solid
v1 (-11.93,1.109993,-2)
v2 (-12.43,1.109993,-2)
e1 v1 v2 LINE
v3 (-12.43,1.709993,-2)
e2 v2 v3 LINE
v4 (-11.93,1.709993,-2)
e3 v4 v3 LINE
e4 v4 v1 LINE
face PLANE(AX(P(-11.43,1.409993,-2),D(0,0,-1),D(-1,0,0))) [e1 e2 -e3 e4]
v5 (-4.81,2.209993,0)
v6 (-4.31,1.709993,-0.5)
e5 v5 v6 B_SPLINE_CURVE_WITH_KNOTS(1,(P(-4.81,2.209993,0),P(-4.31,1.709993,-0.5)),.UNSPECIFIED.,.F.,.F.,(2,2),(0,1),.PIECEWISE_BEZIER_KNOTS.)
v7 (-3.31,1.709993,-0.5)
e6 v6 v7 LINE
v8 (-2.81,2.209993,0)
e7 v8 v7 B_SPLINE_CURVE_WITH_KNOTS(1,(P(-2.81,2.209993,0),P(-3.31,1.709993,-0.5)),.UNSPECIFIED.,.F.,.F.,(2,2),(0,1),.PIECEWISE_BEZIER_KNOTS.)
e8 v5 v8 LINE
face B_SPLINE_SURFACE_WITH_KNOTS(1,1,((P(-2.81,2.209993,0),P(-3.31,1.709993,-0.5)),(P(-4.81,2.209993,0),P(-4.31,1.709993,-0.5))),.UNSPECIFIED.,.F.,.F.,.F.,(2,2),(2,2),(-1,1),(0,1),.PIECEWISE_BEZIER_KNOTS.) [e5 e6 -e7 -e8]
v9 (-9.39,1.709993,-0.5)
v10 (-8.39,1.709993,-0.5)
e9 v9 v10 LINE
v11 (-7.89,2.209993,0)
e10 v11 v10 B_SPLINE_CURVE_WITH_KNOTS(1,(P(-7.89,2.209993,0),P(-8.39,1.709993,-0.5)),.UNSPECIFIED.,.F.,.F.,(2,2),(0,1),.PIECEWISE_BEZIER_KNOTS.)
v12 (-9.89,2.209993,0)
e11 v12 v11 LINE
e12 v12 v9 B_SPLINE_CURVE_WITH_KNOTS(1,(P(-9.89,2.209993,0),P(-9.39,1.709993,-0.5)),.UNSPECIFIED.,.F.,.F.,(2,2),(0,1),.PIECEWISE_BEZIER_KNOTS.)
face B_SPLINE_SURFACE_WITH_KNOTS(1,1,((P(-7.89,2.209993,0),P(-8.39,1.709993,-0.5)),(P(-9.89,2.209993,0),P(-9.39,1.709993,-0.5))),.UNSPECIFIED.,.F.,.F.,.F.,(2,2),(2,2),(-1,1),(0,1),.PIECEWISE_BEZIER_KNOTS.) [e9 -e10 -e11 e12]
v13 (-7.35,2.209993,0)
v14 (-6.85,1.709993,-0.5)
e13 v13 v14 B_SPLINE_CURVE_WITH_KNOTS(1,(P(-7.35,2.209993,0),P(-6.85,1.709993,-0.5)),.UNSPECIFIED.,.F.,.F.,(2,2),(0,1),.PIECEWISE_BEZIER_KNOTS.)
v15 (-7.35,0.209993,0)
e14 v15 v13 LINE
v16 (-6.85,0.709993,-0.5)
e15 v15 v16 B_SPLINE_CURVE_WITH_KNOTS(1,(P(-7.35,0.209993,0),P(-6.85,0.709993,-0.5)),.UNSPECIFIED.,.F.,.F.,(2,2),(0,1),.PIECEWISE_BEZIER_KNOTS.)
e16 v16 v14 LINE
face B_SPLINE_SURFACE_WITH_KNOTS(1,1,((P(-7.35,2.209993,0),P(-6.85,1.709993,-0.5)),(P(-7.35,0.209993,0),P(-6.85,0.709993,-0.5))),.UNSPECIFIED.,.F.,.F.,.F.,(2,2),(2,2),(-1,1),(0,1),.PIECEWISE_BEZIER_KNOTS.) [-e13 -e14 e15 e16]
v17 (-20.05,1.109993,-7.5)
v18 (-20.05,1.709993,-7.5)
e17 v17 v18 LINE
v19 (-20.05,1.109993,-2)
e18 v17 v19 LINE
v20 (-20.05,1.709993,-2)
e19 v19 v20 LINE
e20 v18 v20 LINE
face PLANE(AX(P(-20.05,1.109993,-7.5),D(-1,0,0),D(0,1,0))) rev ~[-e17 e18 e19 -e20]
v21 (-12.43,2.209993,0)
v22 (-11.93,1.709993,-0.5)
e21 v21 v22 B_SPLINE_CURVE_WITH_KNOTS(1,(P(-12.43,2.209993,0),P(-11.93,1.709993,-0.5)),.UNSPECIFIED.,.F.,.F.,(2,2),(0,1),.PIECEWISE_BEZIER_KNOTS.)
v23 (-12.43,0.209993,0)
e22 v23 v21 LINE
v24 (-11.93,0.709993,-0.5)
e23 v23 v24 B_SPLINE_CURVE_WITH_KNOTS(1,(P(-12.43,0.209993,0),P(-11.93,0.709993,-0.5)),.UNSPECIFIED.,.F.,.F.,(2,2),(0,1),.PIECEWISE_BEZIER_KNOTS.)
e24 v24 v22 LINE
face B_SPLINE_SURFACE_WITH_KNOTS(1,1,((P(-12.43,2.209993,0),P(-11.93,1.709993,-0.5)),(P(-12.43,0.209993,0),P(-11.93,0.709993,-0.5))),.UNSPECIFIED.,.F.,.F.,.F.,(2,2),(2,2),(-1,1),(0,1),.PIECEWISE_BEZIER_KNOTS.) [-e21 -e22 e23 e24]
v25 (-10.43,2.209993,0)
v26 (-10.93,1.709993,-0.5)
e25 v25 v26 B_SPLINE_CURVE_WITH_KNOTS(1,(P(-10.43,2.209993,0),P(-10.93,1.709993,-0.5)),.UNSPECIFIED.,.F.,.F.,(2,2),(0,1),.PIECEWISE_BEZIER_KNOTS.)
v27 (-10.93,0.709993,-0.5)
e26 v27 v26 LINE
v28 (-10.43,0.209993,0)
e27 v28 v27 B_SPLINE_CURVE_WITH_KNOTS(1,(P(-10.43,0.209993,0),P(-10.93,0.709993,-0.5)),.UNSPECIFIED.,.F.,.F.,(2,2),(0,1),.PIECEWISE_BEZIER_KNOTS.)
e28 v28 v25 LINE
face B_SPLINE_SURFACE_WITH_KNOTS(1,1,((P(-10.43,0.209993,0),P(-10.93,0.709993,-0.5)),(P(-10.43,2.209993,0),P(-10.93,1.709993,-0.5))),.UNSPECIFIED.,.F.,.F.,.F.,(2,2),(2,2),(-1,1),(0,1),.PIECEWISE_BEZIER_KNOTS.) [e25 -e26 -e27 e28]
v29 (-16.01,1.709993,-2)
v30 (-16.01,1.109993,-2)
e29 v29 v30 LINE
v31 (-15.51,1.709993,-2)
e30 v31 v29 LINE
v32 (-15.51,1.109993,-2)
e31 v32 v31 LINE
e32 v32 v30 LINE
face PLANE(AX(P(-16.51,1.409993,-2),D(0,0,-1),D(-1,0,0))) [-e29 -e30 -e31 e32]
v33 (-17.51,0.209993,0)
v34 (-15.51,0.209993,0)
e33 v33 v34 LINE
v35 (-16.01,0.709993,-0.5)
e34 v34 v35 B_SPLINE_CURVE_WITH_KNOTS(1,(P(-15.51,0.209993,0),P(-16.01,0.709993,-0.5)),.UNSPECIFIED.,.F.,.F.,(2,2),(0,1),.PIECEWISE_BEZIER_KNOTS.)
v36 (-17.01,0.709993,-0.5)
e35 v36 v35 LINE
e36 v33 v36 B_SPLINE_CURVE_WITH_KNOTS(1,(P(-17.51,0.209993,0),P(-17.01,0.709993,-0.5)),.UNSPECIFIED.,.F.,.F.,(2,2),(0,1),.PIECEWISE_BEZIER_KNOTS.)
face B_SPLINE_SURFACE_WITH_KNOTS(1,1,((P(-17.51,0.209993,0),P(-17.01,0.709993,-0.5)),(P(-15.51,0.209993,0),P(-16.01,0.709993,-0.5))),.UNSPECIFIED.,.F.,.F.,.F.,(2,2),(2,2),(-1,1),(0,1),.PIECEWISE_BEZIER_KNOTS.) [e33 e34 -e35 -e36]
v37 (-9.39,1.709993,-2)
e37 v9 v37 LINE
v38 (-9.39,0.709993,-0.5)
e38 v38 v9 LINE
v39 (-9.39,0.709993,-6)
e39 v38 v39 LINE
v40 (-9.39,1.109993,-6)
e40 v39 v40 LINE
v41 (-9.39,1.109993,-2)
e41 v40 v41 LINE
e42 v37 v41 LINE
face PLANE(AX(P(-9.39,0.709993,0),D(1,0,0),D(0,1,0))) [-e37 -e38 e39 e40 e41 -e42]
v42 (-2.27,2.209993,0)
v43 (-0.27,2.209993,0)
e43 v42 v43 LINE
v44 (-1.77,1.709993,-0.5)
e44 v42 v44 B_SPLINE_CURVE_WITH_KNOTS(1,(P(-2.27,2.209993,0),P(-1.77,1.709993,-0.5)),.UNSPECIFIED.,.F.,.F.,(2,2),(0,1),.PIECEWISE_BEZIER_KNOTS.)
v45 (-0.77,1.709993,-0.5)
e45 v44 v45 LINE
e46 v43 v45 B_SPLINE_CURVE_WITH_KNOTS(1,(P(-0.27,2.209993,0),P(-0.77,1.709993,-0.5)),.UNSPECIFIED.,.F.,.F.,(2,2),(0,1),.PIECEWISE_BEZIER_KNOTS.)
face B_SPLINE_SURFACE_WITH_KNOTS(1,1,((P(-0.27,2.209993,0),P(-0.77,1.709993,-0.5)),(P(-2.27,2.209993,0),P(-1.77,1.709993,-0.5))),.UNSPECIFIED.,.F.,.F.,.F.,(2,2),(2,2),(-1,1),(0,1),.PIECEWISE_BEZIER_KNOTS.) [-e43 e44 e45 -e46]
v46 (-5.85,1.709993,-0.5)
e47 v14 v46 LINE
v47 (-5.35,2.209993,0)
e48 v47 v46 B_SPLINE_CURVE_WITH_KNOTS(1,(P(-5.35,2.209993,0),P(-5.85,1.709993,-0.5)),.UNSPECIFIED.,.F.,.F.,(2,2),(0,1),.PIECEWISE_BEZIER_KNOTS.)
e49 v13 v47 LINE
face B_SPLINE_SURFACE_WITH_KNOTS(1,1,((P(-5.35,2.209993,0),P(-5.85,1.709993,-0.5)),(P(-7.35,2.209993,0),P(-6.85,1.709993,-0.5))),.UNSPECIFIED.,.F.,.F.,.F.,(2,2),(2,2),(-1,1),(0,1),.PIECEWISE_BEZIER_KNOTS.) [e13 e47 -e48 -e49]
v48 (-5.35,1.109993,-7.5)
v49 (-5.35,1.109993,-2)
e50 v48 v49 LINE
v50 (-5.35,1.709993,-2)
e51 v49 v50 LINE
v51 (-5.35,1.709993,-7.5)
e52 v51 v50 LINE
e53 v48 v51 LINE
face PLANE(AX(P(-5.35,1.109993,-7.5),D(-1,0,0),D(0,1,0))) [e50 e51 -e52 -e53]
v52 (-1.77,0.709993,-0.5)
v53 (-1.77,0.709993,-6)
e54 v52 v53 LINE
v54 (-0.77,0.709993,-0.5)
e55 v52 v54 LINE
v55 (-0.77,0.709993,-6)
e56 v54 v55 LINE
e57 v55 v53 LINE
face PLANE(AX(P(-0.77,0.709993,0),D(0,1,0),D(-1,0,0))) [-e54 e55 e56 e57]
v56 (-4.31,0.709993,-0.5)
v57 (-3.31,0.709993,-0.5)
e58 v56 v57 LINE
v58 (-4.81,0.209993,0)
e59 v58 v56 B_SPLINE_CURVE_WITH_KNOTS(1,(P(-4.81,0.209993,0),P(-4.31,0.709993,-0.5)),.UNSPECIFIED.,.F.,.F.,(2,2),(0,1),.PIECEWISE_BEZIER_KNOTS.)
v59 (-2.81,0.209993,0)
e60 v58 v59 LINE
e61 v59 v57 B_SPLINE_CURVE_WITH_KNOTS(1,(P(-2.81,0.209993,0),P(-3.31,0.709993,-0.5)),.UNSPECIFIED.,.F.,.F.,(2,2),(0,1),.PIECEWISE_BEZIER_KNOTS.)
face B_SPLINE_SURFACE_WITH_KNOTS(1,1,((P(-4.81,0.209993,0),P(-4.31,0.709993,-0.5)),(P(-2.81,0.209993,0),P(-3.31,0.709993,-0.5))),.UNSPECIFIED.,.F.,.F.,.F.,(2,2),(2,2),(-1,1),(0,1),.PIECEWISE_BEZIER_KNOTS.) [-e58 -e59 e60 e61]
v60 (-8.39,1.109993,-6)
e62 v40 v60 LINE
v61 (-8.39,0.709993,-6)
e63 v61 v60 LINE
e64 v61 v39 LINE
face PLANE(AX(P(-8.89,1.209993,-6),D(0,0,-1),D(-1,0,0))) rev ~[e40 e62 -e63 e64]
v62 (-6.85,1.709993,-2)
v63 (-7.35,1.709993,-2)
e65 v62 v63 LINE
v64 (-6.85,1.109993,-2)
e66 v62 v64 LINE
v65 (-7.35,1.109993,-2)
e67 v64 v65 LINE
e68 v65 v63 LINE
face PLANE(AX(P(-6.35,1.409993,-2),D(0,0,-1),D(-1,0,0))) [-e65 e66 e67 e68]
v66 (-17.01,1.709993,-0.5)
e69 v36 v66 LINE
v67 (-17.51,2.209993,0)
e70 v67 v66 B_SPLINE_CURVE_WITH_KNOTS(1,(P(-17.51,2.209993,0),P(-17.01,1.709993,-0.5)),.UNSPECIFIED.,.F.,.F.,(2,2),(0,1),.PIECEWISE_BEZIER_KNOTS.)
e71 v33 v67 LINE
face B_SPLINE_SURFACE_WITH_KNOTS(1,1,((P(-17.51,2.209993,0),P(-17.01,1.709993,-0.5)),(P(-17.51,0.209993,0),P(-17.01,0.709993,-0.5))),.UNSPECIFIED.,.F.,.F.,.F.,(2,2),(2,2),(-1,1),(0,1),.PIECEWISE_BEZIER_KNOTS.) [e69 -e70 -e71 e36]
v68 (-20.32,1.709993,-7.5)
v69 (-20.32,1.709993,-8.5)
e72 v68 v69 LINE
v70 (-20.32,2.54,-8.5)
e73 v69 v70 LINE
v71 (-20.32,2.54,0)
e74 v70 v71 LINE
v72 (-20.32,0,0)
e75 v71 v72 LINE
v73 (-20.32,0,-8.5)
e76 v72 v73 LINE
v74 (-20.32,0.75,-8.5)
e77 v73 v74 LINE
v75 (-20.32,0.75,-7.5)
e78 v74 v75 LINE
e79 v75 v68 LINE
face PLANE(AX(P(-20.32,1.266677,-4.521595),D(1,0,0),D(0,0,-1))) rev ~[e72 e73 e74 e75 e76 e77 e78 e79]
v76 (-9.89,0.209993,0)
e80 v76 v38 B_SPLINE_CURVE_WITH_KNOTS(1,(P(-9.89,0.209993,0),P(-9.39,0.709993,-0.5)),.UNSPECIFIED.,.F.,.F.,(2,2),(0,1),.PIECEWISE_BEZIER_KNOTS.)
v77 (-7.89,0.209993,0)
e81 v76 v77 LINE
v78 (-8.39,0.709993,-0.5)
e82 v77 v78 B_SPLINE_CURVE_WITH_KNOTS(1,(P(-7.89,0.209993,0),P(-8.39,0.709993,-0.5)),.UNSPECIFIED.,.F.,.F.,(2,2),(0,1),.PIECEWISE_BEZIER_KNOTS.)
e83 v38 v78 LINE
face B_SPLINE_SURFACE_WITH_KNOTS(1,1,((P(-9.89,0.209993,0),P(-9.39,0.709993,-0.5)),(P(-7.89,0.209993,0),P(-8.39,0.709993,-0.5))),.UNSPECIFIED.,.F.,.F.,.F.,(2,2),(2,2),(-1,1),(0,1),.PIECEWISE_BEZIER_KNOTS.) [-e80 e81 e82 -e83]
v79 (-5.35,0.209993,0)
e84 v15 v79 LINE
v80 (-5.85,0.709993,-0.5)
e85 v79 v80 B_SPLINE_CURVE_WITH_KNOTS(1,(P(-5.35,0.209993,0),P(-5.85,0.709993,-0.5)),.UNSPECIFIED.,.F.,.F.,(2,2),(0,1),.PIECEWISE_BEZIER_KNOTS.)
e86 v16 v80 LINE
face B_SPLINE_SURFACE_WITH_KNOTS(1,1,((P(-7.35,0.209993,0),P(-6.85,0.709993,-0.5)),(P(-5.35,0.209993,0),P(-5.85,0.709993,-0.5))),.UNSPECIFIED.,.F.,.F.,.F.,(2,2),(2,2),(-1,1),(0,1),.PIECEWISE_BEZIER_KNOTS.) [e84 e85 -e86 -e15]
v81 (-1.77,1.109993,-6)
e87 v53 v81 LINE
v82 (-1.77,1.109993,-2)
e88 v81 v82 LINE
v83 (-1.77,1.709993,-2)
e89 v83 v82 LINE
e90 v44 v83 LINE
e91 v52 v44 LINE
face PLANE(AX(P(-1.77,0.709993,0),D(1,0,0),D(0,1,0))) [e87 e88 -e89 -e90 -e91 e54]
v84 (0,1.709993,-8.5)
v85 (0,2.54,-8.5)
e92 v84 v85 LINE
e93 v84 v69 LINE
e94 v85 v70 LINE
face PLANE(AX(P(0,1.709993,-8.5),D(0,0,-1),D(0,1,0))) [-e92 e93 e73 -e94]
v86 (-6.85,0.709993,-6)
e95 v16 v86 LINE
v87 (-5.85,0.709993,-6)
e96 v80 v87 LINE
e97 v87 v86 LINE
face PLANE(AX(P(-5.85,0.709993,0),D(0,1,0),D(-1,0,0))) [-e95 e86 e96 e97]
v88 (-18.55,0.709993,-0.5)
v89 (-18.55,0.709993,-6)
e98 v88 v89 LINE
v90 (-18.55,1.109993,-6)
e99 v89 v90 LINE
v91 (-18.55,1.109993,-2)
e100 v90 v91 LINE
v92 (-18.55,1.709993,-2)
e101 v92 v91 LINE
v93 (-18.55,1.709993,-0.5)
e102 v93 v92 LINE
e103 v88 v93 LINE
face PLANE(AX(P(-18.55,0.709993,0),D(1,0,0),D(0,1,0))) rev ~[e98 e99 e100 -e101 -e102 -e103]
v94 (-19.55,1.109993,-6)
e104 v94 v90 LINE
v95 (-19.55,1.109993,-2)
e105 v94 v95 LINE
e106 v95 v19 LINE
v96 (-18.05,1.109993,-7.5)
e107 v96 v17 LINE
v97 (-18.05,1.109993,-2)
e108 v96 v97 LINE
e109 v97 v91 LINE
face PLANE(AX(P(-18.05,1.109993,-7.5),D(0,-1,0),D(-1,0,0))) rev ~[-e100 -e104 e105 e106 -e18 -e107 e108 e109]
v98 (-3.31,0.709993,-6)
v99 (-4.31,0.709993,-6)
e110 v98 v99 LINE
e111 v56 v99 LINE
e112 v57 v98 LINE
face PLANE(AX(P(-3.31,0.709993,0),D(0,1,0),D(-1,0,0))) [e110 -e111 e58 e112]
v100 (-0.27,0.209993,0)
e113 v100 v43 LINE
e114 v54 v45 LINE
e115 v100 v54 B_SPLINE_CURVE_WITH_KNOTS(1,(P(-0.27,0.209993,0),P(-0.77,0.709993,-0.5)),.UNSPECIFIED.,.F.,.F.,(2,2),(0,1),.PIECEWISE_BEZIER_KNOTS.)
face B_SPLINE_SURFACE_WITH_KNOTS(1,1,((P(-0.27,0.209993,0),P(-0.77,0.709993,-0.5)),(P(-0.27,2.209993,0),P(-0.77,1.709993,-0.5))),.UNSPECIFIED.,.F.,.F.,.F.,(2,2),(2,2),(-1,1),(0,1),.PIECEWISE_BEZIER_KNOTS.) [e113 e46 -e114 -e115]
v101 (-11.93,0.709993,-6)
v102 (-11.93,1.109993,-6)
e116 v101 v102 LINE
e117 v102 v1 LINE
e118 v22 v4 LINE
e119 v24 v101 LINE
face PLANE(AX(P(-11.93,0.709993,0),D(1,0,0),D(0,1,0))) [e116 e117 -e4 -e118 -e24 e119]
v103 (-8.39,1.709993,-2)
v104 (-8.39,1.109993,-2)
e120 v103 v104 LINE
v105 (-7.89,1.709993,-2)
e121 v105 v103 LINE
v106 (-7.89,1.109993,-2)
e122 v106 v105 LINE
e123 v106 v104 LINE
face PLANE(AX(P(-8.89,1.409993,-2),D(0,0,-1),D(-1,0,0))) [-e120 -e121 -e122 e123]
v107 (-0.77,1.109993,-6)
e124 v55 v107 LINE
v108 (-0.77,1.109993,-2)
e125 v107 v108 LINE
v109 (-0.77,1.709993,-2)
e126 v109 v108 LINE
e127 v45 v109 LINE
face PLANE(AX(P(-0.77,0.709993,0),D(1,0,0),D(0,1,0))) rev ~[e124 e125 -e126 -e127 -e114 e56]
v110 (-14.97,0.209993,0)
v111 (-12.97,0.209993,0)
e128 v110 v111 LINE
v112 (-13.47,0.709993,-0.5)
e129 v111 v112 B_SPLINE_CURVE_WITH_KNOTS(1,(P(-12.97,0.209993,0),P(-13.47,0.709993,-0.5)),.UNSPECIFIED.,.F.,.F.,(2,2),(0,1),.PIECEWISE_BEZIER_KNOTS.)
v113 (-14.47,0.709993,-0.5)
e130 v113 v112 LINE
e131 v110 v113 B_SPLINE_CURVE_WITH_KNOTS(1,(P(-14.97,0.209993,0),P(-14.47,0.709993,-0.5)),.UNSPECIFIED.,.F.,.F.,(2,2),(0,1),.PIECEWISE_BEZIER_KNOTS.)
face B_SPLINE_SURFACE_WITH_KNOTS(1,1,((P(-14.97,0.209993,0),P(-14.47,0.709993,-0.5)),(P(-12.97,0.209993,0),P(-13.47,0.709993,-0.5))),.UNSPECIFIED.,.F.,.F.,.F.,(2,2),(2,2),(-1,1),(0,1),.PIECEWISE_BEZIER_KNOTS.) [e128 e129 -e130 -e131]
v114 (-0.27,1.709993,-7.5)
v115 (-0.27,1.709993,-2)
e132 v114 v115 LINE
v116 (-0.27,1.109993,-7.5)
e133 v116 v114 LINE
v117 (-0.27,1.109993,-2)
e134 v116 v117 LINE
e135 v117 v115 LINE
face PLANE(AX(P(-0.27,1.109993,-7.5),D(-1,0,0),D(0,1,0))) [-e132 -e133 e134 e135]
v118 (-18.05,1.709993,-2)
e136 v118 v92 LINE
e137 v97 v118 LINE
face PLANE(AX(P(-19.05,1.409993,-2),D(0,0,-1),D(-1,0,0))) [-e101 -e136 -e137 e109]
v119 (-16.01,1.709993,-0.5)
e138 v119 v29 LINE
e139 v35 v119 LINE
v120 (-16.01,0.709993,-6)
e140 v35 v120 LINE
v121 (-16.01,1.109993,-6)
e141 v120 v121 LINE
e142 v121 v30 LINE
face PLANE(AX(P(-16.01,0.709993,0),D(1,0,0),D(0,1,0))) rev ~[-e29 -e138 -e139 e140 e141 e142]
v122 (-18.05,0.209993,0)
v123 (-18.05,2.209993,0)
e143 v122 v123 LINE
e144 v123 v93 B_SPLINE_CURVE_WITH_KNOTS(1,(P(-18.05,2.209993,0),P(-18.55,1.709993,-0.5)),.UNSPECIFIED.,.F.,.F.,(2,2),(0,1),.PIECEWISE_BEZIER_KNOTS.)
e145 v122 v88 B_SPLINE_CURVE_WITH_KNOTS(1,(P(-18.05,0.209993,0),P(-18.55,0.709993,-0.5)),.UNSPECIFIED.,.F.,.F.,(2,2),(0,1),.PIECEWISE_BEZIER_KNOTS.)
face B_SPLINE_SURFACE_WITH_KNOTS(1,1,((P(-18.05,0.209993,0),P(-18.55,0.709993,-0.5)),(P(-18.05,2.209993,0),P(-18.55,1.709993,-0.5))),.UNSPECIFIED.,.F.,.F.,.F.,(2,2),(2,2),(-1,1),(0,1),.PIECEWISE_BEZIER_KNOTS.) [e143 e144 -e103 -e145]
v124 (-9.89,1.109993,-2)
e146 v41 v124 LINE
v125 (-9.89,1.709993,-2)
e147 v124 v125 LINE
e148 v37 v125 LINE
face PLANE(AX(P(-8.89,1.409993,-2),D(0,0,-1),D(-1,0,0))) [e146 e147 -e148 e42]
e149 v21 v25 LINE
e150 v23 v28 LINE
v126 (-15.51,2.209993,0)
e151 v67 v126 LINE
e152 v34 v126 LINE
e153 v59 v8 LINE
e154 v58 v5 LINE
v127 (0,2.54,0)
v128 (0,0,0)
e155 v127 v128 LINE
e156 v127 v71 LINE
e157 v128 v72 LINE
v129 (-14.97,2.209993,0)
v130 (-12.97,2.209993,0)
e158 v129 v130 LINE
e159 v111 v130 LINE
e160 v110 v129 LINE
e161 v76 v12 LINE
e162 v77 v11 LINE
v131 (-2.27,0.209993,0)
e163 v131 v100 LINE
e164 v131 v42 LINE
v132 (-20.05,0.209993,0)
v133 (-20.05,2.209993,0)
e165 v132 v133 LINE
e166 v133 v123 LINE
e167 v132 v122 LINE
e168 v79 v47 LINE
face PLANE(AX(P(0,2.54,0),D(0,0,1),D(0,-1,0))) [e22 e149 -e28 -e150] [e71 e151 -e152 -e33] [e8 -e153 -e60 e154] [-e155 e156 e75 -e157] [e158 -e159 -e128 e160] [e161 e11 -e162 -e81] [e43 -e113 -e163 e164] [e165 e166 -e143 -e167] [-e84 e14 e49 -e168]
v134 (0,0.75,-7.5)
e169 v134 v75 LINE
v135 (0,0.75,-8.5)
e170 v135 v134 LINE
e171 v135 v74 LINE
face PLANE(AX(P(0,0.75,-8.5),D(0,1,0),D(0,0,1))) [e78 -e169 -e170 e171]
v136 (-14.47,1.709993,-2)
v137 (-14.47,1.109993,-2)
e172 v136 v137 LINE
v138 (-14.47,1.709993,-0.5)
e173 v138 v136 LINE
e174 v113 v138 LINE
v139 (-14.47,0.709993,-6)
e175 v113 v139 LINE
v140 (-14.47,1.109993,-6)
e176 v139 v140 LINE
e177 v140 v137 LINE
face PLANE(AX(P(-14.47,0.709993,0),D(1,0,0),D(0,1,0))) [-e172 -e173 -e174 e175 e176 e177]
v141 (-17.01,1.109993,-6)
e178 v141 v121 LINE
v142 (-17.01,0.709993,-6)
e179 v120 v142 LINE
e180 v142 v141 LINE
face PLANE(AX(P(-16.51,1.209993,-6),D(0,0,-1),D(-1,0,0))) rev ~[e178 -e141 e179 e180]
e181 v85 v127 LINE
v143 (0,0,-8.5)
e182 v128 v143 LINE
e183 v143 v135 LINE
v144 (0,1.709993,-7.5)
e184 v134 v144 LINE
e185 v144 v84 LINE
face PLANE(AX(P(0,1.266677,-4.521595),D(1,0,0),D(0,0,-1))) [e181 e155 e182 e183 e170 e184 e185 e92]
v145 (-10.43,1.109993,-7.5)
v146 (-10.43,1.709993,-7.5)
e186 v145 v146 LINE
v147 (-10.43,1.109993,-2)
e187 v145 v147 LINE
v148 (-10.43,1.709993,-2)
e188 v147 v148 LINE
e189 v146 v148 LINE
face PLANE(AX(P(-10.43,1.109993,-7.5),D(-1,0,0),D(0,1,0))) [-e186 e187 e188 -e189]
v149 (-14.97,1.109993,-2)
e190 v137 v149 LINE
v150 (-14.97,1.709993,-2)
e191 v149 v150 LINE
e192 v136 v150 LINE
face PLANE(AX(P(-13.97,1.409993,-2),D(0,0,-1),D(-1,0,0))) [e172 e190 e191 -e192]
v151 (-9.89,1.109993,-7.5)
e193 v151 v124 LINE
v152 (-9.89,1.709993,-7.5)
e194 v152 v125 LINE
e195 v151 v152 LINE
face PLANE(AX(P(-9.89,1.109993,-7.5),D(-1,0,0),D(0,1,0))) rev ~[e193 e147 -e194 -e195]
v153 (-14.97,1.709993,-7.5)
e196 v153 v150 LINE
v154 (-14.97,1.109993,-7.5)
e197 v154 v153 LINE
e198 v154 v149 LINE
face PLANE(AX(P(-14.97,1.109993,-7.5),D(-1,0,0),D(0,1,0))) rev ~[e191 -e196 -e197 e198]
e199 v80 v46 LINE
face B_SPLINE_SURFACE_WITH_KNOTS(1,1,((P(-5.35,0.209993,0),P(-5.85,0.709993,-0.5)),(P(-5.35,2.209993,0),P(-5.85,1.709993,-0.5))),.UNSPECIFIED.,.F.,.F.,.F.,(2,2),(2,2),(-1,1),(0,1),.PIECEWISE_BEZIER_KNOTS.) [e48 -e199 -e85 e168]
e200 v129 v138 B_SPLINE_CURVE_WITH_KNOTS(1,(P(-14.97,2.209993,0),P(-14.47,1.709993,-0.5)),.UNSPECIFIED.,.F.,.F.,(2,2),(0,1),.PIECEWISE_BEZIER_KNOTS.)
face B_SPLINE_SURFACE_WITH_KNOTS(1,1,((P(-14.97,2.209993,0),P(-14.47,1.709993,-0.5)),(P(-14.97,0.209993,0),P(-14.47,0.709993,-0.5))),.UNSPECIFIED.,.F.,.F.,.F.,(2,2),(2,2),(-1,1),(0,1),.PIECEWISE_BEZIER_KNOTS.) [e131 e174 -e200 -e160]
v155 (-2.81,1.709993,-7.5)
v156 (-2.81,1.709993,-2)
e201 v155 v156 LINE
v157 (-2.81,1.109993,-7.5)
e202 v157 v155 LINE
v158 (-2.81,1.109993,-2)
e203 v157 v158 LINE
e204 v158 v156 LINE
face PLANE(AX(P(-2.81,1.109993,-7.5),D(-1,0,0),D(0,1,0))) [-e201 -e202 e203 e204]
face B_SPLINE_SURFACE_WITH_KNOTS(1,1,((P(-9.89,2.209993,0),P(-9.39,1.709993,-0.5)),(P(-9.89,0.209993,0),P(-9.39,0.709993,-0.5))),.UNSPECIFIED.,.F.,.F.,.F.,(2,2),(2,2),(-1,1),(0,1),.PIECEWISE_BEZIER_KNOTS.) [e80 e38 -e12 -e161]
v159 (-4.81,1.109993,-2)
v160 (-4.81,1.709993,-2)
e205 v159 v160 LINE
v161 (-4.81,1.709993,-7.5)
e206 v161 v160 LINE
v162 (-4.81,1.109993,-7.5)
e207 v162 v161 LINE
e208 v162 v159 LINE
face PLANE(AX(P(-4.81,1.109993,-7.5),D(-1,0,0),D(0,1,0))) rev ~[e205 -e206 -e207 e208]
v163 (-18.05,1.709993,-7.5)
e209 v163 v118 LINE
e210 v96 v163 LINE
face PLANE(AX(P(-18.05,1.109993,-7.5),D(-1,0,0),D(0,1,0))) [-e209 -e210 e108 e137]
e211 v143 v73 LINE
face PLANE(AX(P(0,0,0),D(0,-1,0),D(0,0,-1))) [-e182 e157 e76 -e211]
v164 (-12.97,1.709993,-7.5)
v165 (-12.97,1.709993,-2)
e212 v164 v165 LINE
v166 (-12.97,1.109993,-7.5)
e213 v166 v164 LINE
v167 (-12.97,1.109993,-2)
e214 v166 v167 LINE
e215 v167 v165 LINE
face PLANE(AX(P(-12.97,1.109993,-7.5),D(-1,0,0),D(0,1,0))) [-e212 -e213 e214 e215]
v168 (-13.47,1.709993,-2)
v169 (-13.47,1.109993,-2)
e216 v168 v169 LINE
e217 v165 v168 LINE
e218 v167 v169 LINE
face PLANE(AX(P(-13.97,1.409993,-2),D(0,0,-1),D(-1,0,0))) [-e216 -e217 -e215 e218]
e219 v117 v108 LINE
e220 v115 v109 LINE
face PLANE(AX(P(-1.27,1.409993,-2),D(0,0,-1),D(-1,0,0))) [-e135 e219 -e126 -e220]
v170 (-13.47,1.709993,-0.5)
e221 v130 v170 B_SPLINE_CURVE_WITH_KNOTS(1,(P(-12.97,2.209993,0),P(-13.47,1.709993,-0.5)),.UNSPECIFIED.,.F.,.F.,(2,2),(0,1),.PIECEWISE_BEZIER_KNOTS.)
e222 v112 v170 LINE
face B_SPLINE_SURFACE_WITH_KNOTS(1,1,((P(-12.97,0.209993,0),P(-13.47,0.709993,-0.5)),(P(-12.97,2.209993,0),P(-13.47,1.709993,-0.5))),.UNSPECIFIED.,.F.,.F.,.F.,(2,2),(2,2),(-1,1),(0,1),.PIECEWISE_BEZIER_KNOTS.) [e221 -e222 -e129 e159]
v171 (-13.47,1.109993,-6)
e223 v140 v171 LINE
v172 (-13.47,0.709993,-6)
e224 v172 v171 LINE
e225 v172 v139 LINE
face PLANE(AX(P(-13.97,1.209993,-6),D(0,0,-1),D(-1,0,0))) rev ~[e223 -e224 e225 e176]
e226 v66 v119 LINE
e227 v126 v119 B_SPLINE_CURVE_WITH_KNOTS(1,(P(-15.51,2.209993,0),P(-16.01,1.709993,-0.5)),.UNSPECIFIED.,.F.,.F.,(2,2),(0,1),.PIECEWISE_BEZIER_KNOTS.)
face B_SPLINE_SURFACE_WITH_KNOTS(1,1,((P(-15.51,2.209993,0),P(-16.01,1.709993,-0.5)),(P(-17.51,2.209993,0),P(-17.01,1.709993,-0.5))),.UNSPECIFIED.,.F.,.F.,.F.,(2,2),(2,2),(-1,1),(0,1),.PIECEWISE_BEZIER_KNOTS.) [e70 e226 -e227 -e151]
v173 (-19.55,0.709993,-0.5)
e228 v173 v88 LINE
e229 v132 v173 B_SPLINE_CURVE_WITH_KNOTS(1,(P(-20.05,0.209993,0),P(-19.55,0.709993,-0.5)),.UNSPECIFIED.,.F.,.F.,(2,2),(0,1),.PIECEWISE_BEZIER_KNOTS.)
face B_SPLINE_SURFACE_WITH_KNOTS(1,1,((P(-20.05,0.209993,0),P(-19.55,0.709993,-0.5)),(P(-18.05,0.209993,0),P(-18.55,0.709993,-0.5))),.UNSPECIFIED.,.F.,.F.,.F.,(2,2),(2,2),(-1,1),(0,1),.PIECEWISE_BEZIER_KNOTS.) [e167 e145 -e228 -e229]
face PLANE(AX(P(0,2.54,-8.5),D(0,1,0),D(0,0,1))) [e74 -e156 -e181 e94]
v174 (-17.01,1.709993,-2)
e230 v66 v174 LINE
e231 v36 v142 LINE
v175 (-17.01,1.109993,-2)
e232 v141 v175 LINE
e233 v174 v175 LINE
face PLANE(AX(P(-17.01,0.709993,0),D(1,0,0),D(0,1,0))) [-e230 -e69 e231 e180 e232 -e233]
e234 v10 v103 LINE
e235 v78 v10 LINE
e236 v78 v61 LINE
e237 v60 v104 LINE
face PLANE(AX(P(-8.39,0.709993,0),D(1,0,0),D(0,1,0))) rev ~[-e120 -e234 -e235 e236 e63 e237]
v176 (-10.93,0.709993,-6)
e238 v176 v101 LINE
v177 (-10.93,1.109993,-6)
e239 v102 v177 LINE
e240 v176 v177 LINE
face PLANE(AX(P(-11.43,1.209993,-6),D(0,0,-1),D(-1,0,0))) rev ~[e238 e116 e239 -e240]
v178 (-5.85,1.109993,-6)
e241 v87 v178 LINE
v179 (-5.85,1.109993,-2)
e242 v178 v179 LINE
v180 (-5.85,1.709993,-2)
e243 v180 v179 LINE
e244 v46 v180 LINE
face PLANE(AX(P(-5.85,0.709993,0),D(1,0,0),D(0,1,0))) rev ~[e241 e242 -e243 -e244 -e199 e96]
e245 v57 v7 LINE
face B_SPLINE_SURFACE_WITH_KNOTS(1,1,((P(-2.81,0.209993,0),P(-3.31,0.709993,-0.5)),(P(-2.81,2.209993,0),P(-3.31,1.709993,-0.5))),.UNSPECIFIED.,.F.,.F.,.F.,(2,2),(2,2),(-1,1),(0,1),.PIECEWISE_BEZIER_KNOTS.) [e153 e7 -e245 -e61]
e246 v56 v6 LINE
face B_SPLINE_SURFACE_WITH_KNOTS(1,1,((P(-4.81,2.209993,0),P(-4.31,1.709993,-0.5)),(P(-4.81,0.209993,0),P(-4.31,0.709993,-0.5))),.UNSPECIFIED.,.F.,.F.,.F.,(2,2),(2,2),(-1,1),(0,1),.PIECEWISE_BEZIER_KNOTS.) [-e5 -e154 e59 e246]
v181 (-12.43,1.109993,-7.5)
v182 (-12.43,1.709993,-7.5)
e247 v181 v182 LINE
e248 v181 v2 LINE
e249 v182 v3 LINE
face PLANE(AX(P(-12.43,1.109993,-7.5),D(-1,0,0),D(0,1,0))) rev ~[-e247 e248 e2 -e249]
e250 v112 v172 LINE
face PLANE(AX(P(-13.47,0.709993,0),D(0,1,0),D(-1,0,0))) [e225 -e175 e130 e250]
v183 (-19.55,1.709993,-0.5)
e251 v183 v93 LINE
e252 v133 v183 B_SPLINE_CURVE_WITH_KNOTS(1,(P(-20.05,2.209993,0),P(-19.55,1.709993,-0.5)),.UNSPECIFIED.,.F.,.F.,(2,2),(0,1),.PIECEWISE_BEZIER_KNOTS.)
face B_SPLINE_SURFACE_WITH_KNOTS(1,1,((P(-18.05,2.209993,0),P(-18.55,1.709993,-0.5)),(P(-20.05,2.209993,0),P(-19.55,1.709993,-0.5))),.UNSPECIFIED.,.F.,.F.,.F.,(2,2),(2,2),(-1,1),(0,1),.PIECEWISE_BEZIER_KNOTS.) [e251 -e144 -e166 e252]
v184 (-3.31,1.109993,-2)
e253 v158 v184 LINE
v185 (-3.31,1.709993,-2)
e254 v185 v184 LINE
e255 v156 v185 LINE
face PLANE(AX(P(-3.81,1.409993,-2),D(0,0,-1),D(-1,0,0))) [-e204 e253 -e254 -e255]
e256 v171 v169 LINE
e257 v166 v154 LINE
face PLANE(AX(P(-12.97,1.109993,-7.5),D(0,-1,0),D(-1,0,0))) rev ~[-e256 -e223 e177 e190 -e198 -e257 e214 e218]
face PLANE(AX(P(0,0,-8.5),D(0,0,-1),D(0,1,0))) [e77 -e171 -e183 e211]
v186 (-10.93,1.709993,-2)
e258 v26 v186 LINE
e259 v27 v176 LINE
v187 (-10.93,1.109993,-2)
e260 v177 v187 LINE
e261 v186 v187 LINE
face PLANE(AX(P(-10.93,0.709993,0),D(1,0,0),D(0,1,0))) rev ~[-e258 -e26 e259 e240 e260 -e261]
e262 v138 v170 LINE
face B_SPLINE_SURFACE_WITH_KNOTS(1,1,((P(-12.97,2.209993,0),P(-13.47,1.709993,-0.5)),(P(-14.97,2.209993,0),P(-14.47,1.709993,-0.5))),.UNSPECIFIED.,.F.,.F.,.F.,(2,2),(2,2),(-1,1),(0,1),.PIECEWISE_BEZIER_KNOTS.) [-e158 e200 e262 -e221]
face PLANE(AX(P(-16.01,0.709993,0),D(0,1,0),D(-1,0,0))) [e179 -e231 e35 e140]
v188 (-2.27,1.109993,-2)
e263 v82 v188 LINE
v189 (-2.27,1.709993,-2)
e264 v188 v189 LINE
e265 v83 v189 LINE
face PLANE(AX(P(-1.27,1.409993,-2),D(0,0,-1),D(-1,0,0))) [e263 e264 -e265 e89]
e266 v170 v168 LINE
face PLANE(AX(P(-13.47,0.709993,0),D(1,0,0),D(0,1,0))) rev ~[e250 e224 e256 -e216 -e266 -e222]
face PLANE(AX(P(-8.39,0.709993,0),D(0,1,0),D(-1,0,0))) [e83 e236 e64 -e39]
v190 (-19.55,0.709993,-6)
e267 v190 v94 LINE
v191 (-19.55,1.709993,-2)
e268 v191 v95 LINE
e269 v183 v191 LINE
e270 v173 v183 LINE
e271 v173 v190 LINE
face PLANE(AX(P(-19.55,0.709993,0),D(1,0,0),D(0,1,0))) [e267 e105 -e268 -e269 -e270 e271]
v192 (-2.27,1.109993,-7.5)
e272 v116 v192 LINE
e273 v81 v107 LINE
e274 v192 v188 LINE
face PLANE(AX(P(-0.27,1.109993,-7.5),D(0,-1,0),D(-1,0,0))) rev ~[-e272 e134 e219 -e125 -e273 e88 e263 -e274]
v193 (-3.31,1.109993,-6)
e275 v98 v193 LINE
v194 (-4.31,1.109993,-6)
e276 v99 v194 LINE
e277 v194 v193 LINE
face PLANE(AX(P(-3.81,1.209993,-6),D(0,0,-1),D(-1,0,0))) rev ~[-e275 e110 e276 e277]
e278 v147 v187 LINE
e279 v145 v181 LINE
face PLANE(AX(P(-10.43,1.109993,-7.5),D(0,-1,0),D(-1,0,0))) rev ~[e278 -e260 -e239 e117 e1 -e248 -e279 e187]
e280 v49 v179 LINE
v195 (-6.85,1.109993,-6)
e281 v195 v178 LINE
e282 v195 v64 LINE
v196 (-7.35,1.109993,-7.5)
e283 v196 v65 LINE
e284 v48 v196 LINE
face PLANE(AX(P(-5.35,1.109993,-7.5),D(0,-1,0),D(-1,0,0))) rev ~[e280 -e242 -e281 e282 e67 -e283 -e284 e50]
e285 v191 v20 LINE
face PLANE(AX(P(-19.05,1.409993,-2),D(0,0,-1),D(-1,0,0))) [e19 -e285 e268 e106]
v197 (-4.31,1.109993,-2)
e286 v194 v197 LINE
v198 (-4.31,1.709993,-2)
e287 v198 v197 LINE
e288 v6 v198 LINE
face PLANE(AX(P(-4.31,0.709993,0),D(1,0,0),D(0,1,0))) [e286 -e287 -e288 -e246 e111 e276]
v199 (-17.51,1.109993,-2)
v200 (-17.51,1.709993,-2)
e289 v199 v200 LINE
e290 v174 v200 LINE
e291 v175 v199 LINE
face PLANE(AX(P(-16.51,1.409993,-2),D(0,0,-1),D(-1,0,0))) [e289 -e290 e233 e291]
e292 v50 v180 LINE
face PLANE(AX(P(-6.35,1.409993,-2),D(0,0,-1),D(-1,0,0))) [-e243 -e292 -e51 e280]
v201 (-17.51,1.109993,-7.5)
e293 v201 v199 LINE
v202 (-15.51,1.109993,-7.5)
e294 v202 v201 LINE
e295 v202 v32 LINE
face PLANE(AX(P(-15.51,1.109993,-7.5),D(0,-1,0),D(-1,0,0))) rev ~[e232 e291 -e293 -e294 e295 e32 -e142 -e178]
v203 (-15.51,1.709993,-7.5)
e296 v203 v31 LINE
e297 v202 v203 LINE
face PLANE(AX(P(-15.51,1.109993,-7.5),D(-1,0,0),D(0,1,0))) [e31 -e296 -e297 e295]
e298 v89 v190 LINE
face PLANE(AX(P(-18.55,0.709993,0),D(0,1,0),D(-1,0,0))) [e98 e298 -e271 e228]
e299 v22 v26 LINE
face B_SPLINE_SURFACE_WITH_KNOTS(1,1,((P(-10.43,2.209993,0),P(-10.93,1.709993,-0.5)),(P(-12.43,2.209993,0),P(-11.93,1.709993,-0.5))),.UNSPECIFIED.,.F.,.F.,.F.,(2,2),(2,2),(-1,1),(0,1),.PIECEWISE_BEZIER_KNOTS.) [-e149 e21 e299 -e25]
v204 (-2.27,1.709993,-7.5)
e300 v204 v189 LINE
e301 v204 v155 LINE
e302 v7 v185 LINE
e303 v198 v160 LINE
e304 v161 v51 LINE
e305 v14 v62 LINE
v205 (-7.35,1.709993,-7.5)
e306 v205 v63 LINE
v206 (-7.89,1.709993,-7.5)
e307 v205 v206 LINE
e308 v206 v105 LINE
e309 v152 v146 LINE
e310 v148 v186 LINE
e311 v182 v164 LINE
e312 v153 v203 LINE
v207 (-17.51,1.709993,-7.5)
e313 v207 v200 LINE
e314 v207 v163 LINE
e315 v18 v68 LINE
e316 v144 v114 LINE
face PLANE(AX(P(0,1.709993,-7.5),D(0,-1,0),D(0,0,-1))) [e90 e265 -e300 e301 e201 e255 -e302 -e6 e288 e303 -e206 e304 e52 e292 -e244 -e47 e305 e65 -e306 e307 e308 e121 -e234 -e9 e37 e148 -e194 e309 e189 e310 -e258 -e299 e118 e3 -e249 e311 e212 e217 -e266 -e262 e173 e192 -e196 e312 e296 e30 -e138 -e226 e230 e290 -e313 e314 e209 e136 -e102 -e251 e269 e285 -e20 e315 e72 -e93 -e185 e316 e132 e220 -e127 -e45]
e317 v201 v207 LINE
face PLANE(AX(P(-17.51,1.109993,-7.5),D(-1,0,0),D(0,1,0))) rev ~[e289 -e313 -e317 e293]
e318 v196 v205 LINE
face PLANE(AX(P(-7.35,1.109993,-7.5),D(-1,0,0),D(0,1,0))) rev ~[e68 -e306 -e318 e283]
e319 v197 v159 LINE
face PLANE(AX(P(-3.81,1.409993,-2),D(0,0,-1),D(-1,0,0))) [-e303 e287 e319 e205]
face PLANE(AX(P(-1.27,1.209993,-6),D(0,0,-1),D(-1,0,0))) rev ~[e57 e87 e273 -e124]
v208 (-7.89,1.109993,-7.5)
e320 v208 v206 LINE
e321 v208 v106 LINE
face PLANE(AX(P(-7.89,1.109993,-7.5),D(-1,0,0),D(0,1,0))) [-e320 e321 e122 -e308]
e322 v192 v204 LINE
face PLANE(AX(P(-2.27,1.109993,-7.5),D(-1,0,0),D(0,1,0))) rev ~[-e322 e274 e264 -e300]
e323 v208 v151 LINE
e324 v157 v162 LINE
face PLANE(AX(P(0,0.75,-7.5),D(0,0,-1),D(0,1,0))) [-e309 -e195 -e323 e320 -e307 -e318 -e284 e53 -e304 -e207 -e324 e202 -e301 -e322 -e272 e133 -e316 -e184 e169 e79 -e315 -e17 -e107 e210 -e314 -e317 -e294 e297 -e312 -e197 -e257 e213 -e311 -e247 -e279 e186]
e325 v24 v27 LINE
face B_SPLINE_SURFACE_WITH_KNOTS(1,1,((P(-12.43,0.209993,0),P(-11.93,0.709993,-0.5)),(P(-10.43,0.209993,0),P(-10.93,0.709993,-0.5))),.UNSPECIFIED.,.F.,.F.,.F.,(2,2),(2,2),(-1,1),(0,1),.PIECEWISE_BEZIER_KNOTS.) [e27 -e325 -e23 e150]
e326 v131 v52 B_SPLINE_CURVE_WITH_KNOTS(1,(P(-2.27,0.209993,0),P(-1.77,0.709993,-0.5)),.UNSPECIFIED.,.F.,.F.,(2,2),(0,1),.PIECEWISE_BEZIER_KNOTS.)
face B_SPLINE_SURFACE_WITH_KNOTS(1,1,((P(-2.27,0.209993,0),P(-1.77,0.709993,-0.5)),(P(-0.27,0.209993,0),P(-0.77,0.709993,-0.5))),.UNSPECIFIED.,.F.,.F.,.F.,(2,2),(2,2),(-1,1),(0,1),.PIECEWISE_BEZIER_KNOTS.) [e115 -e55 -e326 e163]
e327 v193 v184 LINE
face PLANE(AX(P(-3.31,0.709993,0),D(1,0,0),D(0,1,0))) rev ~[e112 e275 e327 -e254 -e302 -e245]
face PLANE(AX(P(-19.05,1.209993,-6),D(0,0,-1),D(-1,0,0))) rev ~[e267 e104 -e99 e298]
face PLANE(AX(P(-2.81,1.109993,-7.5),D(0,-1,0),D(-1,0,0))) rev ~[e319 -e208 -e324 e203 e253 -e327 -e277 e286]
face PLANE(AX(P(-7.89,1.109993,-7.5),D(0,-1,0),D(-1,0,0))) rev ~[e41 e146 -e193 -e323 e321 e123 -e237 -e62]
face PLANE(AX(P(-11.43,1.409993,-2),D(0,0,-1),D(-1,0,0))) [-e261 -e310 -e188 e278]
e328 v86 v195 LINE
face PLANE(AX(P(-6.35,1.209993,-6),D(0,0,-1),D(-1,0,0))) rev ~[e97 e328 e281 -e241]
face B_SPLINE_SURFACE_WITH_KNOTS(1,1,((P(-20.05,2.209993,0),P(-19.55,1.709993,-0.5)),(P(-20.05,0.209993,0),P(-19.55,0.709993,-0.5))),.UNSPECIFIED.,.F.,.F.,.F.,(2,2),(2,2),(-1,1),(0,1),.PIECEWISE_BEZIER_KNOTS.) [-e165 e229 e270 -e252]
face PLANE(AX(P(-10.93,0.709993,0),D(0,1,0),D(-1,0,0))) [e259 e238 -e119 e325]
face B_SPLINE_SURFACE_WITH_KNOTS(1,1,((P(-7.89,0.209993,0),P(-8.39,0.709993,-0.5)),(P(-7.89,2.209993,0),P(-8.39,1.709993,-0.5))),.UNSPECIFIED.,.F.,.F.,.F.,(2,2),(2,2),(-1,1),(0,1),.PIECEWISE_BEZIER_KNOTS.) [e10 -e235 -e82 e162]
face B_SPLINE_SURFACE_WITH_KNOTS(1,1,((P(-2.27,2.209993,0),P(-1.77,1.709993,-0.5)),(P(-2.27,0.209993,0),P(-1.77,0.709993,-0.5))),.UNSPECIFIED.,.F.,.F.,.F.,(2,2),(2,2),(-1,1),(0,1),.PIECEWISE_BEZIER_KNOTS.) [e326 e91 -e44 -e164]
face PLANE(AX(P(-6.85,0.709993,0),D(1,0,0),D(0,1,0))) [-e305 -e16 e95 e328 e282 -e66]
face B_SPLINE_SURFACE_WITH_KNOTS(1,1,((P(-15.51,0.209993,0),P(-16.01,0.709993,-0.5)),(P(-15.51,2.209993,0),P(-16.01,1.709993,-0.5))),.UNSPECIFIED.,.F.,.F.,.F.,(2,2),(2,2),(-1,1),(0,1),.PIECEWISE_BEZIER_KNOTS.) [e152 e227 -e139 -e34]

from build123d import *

# Parameters (mm, degrees)
BOSS_EXTRUDE1_DEPTH = 20.32
SKETCH2_W           = 2
SKETCH2_H           = 0.6
CUT_EXTRUDE1_DEPTH  = 5.5
SKETCH3_W           = 1
SKETCH3_H           = 1
CUT_EXTRUDE2_DEPTH  = 6
SKETCH4_W           = 2
SKETCH4_H           = 2
CUT_EXTRUDE3_DEPTH  = 0.5
CUT_EXTRUDE3_TAPER  = 45
LPATTERN1_COUNT     = 8
LPATTERN1_PITCH     = 2.54


with BuildPart() as part:
    # Sketch1 → Boss-Extrude1 (new body)
    with BuildSketch(Plane(origin=(0, 0, 0), x_dir=(0, 0, -1), z_dir=(1, 0, 0))):
        Polygon((8.5, 2.54), (0, 2.54), (0, 0), (8.5, 0), (8.5, 0.75), (7.5, 0.75), (7.5, 1.709993), (8.5, 1.709993), align=None)
    extrude(amount=-BOSS_EXTRUDE1_DEPTH)

    # Sketch2 → Cut-Extrude1 (cut)
    with BuildSketch(Plane(origin=(0, 0, -7.5), x_dir=(-1, 0, 0), z_dir=(0, 0, -1))):
        with Locations((1.27, 1.409993)):
            Rectangle(SKETCH2_W, SKETCH2_H)
    cut_extrude1 = extrude(amount=-CUT_EXTRUDE1_DEPTH, mode=Mode.SUBTRACT)

    # Sketch3 → Cut-Extrude2 (cut)
    with BuildSketch(Plane(origin=(0, 0, 0), x_dir=(-1, 0, 0), z_dir=(0, 0, -1))):
        with Locations((1.27, 1.209993)):
            Rectangle(SKETCH3_W, SKETCH3_H)
    cut_extrude2 = extrude(amount=CUT_EXTRUDE2_DEPTH, mode=Mode.SUBTRACT)

    # Sketch4 → Cut-Extrude3 (cut)
    with BuildSketch(Plane.XY):
        with Locations((-1.27, 1.209993)):
            Rectangle(SKETCH4_W, SKETCH4_H)
    cut_extrude3 = extrude(amount=-CUT_EXTRUDE3_DEPTH, taper=CUT_EXTRUDE3_TAPER, mode=Mode.SUBTRACT)

    # LPattern1: Cut-Extrude1, Cut-Extrude2, Cut-Extrude3 ×8
    with Locations(*[(-i * LPATTERN1_PITCH, 0, 0) for i in range(1, LPATTERN1_COUNT)]):
        add(cut_extrude1, mode=Mode.SUBTRACT)
        add(cut_extrude2, mode=Mode.SUBTRACT)
        add(cut_extrude3, mode=Mode.SUBTRACT)


solid = part.part
